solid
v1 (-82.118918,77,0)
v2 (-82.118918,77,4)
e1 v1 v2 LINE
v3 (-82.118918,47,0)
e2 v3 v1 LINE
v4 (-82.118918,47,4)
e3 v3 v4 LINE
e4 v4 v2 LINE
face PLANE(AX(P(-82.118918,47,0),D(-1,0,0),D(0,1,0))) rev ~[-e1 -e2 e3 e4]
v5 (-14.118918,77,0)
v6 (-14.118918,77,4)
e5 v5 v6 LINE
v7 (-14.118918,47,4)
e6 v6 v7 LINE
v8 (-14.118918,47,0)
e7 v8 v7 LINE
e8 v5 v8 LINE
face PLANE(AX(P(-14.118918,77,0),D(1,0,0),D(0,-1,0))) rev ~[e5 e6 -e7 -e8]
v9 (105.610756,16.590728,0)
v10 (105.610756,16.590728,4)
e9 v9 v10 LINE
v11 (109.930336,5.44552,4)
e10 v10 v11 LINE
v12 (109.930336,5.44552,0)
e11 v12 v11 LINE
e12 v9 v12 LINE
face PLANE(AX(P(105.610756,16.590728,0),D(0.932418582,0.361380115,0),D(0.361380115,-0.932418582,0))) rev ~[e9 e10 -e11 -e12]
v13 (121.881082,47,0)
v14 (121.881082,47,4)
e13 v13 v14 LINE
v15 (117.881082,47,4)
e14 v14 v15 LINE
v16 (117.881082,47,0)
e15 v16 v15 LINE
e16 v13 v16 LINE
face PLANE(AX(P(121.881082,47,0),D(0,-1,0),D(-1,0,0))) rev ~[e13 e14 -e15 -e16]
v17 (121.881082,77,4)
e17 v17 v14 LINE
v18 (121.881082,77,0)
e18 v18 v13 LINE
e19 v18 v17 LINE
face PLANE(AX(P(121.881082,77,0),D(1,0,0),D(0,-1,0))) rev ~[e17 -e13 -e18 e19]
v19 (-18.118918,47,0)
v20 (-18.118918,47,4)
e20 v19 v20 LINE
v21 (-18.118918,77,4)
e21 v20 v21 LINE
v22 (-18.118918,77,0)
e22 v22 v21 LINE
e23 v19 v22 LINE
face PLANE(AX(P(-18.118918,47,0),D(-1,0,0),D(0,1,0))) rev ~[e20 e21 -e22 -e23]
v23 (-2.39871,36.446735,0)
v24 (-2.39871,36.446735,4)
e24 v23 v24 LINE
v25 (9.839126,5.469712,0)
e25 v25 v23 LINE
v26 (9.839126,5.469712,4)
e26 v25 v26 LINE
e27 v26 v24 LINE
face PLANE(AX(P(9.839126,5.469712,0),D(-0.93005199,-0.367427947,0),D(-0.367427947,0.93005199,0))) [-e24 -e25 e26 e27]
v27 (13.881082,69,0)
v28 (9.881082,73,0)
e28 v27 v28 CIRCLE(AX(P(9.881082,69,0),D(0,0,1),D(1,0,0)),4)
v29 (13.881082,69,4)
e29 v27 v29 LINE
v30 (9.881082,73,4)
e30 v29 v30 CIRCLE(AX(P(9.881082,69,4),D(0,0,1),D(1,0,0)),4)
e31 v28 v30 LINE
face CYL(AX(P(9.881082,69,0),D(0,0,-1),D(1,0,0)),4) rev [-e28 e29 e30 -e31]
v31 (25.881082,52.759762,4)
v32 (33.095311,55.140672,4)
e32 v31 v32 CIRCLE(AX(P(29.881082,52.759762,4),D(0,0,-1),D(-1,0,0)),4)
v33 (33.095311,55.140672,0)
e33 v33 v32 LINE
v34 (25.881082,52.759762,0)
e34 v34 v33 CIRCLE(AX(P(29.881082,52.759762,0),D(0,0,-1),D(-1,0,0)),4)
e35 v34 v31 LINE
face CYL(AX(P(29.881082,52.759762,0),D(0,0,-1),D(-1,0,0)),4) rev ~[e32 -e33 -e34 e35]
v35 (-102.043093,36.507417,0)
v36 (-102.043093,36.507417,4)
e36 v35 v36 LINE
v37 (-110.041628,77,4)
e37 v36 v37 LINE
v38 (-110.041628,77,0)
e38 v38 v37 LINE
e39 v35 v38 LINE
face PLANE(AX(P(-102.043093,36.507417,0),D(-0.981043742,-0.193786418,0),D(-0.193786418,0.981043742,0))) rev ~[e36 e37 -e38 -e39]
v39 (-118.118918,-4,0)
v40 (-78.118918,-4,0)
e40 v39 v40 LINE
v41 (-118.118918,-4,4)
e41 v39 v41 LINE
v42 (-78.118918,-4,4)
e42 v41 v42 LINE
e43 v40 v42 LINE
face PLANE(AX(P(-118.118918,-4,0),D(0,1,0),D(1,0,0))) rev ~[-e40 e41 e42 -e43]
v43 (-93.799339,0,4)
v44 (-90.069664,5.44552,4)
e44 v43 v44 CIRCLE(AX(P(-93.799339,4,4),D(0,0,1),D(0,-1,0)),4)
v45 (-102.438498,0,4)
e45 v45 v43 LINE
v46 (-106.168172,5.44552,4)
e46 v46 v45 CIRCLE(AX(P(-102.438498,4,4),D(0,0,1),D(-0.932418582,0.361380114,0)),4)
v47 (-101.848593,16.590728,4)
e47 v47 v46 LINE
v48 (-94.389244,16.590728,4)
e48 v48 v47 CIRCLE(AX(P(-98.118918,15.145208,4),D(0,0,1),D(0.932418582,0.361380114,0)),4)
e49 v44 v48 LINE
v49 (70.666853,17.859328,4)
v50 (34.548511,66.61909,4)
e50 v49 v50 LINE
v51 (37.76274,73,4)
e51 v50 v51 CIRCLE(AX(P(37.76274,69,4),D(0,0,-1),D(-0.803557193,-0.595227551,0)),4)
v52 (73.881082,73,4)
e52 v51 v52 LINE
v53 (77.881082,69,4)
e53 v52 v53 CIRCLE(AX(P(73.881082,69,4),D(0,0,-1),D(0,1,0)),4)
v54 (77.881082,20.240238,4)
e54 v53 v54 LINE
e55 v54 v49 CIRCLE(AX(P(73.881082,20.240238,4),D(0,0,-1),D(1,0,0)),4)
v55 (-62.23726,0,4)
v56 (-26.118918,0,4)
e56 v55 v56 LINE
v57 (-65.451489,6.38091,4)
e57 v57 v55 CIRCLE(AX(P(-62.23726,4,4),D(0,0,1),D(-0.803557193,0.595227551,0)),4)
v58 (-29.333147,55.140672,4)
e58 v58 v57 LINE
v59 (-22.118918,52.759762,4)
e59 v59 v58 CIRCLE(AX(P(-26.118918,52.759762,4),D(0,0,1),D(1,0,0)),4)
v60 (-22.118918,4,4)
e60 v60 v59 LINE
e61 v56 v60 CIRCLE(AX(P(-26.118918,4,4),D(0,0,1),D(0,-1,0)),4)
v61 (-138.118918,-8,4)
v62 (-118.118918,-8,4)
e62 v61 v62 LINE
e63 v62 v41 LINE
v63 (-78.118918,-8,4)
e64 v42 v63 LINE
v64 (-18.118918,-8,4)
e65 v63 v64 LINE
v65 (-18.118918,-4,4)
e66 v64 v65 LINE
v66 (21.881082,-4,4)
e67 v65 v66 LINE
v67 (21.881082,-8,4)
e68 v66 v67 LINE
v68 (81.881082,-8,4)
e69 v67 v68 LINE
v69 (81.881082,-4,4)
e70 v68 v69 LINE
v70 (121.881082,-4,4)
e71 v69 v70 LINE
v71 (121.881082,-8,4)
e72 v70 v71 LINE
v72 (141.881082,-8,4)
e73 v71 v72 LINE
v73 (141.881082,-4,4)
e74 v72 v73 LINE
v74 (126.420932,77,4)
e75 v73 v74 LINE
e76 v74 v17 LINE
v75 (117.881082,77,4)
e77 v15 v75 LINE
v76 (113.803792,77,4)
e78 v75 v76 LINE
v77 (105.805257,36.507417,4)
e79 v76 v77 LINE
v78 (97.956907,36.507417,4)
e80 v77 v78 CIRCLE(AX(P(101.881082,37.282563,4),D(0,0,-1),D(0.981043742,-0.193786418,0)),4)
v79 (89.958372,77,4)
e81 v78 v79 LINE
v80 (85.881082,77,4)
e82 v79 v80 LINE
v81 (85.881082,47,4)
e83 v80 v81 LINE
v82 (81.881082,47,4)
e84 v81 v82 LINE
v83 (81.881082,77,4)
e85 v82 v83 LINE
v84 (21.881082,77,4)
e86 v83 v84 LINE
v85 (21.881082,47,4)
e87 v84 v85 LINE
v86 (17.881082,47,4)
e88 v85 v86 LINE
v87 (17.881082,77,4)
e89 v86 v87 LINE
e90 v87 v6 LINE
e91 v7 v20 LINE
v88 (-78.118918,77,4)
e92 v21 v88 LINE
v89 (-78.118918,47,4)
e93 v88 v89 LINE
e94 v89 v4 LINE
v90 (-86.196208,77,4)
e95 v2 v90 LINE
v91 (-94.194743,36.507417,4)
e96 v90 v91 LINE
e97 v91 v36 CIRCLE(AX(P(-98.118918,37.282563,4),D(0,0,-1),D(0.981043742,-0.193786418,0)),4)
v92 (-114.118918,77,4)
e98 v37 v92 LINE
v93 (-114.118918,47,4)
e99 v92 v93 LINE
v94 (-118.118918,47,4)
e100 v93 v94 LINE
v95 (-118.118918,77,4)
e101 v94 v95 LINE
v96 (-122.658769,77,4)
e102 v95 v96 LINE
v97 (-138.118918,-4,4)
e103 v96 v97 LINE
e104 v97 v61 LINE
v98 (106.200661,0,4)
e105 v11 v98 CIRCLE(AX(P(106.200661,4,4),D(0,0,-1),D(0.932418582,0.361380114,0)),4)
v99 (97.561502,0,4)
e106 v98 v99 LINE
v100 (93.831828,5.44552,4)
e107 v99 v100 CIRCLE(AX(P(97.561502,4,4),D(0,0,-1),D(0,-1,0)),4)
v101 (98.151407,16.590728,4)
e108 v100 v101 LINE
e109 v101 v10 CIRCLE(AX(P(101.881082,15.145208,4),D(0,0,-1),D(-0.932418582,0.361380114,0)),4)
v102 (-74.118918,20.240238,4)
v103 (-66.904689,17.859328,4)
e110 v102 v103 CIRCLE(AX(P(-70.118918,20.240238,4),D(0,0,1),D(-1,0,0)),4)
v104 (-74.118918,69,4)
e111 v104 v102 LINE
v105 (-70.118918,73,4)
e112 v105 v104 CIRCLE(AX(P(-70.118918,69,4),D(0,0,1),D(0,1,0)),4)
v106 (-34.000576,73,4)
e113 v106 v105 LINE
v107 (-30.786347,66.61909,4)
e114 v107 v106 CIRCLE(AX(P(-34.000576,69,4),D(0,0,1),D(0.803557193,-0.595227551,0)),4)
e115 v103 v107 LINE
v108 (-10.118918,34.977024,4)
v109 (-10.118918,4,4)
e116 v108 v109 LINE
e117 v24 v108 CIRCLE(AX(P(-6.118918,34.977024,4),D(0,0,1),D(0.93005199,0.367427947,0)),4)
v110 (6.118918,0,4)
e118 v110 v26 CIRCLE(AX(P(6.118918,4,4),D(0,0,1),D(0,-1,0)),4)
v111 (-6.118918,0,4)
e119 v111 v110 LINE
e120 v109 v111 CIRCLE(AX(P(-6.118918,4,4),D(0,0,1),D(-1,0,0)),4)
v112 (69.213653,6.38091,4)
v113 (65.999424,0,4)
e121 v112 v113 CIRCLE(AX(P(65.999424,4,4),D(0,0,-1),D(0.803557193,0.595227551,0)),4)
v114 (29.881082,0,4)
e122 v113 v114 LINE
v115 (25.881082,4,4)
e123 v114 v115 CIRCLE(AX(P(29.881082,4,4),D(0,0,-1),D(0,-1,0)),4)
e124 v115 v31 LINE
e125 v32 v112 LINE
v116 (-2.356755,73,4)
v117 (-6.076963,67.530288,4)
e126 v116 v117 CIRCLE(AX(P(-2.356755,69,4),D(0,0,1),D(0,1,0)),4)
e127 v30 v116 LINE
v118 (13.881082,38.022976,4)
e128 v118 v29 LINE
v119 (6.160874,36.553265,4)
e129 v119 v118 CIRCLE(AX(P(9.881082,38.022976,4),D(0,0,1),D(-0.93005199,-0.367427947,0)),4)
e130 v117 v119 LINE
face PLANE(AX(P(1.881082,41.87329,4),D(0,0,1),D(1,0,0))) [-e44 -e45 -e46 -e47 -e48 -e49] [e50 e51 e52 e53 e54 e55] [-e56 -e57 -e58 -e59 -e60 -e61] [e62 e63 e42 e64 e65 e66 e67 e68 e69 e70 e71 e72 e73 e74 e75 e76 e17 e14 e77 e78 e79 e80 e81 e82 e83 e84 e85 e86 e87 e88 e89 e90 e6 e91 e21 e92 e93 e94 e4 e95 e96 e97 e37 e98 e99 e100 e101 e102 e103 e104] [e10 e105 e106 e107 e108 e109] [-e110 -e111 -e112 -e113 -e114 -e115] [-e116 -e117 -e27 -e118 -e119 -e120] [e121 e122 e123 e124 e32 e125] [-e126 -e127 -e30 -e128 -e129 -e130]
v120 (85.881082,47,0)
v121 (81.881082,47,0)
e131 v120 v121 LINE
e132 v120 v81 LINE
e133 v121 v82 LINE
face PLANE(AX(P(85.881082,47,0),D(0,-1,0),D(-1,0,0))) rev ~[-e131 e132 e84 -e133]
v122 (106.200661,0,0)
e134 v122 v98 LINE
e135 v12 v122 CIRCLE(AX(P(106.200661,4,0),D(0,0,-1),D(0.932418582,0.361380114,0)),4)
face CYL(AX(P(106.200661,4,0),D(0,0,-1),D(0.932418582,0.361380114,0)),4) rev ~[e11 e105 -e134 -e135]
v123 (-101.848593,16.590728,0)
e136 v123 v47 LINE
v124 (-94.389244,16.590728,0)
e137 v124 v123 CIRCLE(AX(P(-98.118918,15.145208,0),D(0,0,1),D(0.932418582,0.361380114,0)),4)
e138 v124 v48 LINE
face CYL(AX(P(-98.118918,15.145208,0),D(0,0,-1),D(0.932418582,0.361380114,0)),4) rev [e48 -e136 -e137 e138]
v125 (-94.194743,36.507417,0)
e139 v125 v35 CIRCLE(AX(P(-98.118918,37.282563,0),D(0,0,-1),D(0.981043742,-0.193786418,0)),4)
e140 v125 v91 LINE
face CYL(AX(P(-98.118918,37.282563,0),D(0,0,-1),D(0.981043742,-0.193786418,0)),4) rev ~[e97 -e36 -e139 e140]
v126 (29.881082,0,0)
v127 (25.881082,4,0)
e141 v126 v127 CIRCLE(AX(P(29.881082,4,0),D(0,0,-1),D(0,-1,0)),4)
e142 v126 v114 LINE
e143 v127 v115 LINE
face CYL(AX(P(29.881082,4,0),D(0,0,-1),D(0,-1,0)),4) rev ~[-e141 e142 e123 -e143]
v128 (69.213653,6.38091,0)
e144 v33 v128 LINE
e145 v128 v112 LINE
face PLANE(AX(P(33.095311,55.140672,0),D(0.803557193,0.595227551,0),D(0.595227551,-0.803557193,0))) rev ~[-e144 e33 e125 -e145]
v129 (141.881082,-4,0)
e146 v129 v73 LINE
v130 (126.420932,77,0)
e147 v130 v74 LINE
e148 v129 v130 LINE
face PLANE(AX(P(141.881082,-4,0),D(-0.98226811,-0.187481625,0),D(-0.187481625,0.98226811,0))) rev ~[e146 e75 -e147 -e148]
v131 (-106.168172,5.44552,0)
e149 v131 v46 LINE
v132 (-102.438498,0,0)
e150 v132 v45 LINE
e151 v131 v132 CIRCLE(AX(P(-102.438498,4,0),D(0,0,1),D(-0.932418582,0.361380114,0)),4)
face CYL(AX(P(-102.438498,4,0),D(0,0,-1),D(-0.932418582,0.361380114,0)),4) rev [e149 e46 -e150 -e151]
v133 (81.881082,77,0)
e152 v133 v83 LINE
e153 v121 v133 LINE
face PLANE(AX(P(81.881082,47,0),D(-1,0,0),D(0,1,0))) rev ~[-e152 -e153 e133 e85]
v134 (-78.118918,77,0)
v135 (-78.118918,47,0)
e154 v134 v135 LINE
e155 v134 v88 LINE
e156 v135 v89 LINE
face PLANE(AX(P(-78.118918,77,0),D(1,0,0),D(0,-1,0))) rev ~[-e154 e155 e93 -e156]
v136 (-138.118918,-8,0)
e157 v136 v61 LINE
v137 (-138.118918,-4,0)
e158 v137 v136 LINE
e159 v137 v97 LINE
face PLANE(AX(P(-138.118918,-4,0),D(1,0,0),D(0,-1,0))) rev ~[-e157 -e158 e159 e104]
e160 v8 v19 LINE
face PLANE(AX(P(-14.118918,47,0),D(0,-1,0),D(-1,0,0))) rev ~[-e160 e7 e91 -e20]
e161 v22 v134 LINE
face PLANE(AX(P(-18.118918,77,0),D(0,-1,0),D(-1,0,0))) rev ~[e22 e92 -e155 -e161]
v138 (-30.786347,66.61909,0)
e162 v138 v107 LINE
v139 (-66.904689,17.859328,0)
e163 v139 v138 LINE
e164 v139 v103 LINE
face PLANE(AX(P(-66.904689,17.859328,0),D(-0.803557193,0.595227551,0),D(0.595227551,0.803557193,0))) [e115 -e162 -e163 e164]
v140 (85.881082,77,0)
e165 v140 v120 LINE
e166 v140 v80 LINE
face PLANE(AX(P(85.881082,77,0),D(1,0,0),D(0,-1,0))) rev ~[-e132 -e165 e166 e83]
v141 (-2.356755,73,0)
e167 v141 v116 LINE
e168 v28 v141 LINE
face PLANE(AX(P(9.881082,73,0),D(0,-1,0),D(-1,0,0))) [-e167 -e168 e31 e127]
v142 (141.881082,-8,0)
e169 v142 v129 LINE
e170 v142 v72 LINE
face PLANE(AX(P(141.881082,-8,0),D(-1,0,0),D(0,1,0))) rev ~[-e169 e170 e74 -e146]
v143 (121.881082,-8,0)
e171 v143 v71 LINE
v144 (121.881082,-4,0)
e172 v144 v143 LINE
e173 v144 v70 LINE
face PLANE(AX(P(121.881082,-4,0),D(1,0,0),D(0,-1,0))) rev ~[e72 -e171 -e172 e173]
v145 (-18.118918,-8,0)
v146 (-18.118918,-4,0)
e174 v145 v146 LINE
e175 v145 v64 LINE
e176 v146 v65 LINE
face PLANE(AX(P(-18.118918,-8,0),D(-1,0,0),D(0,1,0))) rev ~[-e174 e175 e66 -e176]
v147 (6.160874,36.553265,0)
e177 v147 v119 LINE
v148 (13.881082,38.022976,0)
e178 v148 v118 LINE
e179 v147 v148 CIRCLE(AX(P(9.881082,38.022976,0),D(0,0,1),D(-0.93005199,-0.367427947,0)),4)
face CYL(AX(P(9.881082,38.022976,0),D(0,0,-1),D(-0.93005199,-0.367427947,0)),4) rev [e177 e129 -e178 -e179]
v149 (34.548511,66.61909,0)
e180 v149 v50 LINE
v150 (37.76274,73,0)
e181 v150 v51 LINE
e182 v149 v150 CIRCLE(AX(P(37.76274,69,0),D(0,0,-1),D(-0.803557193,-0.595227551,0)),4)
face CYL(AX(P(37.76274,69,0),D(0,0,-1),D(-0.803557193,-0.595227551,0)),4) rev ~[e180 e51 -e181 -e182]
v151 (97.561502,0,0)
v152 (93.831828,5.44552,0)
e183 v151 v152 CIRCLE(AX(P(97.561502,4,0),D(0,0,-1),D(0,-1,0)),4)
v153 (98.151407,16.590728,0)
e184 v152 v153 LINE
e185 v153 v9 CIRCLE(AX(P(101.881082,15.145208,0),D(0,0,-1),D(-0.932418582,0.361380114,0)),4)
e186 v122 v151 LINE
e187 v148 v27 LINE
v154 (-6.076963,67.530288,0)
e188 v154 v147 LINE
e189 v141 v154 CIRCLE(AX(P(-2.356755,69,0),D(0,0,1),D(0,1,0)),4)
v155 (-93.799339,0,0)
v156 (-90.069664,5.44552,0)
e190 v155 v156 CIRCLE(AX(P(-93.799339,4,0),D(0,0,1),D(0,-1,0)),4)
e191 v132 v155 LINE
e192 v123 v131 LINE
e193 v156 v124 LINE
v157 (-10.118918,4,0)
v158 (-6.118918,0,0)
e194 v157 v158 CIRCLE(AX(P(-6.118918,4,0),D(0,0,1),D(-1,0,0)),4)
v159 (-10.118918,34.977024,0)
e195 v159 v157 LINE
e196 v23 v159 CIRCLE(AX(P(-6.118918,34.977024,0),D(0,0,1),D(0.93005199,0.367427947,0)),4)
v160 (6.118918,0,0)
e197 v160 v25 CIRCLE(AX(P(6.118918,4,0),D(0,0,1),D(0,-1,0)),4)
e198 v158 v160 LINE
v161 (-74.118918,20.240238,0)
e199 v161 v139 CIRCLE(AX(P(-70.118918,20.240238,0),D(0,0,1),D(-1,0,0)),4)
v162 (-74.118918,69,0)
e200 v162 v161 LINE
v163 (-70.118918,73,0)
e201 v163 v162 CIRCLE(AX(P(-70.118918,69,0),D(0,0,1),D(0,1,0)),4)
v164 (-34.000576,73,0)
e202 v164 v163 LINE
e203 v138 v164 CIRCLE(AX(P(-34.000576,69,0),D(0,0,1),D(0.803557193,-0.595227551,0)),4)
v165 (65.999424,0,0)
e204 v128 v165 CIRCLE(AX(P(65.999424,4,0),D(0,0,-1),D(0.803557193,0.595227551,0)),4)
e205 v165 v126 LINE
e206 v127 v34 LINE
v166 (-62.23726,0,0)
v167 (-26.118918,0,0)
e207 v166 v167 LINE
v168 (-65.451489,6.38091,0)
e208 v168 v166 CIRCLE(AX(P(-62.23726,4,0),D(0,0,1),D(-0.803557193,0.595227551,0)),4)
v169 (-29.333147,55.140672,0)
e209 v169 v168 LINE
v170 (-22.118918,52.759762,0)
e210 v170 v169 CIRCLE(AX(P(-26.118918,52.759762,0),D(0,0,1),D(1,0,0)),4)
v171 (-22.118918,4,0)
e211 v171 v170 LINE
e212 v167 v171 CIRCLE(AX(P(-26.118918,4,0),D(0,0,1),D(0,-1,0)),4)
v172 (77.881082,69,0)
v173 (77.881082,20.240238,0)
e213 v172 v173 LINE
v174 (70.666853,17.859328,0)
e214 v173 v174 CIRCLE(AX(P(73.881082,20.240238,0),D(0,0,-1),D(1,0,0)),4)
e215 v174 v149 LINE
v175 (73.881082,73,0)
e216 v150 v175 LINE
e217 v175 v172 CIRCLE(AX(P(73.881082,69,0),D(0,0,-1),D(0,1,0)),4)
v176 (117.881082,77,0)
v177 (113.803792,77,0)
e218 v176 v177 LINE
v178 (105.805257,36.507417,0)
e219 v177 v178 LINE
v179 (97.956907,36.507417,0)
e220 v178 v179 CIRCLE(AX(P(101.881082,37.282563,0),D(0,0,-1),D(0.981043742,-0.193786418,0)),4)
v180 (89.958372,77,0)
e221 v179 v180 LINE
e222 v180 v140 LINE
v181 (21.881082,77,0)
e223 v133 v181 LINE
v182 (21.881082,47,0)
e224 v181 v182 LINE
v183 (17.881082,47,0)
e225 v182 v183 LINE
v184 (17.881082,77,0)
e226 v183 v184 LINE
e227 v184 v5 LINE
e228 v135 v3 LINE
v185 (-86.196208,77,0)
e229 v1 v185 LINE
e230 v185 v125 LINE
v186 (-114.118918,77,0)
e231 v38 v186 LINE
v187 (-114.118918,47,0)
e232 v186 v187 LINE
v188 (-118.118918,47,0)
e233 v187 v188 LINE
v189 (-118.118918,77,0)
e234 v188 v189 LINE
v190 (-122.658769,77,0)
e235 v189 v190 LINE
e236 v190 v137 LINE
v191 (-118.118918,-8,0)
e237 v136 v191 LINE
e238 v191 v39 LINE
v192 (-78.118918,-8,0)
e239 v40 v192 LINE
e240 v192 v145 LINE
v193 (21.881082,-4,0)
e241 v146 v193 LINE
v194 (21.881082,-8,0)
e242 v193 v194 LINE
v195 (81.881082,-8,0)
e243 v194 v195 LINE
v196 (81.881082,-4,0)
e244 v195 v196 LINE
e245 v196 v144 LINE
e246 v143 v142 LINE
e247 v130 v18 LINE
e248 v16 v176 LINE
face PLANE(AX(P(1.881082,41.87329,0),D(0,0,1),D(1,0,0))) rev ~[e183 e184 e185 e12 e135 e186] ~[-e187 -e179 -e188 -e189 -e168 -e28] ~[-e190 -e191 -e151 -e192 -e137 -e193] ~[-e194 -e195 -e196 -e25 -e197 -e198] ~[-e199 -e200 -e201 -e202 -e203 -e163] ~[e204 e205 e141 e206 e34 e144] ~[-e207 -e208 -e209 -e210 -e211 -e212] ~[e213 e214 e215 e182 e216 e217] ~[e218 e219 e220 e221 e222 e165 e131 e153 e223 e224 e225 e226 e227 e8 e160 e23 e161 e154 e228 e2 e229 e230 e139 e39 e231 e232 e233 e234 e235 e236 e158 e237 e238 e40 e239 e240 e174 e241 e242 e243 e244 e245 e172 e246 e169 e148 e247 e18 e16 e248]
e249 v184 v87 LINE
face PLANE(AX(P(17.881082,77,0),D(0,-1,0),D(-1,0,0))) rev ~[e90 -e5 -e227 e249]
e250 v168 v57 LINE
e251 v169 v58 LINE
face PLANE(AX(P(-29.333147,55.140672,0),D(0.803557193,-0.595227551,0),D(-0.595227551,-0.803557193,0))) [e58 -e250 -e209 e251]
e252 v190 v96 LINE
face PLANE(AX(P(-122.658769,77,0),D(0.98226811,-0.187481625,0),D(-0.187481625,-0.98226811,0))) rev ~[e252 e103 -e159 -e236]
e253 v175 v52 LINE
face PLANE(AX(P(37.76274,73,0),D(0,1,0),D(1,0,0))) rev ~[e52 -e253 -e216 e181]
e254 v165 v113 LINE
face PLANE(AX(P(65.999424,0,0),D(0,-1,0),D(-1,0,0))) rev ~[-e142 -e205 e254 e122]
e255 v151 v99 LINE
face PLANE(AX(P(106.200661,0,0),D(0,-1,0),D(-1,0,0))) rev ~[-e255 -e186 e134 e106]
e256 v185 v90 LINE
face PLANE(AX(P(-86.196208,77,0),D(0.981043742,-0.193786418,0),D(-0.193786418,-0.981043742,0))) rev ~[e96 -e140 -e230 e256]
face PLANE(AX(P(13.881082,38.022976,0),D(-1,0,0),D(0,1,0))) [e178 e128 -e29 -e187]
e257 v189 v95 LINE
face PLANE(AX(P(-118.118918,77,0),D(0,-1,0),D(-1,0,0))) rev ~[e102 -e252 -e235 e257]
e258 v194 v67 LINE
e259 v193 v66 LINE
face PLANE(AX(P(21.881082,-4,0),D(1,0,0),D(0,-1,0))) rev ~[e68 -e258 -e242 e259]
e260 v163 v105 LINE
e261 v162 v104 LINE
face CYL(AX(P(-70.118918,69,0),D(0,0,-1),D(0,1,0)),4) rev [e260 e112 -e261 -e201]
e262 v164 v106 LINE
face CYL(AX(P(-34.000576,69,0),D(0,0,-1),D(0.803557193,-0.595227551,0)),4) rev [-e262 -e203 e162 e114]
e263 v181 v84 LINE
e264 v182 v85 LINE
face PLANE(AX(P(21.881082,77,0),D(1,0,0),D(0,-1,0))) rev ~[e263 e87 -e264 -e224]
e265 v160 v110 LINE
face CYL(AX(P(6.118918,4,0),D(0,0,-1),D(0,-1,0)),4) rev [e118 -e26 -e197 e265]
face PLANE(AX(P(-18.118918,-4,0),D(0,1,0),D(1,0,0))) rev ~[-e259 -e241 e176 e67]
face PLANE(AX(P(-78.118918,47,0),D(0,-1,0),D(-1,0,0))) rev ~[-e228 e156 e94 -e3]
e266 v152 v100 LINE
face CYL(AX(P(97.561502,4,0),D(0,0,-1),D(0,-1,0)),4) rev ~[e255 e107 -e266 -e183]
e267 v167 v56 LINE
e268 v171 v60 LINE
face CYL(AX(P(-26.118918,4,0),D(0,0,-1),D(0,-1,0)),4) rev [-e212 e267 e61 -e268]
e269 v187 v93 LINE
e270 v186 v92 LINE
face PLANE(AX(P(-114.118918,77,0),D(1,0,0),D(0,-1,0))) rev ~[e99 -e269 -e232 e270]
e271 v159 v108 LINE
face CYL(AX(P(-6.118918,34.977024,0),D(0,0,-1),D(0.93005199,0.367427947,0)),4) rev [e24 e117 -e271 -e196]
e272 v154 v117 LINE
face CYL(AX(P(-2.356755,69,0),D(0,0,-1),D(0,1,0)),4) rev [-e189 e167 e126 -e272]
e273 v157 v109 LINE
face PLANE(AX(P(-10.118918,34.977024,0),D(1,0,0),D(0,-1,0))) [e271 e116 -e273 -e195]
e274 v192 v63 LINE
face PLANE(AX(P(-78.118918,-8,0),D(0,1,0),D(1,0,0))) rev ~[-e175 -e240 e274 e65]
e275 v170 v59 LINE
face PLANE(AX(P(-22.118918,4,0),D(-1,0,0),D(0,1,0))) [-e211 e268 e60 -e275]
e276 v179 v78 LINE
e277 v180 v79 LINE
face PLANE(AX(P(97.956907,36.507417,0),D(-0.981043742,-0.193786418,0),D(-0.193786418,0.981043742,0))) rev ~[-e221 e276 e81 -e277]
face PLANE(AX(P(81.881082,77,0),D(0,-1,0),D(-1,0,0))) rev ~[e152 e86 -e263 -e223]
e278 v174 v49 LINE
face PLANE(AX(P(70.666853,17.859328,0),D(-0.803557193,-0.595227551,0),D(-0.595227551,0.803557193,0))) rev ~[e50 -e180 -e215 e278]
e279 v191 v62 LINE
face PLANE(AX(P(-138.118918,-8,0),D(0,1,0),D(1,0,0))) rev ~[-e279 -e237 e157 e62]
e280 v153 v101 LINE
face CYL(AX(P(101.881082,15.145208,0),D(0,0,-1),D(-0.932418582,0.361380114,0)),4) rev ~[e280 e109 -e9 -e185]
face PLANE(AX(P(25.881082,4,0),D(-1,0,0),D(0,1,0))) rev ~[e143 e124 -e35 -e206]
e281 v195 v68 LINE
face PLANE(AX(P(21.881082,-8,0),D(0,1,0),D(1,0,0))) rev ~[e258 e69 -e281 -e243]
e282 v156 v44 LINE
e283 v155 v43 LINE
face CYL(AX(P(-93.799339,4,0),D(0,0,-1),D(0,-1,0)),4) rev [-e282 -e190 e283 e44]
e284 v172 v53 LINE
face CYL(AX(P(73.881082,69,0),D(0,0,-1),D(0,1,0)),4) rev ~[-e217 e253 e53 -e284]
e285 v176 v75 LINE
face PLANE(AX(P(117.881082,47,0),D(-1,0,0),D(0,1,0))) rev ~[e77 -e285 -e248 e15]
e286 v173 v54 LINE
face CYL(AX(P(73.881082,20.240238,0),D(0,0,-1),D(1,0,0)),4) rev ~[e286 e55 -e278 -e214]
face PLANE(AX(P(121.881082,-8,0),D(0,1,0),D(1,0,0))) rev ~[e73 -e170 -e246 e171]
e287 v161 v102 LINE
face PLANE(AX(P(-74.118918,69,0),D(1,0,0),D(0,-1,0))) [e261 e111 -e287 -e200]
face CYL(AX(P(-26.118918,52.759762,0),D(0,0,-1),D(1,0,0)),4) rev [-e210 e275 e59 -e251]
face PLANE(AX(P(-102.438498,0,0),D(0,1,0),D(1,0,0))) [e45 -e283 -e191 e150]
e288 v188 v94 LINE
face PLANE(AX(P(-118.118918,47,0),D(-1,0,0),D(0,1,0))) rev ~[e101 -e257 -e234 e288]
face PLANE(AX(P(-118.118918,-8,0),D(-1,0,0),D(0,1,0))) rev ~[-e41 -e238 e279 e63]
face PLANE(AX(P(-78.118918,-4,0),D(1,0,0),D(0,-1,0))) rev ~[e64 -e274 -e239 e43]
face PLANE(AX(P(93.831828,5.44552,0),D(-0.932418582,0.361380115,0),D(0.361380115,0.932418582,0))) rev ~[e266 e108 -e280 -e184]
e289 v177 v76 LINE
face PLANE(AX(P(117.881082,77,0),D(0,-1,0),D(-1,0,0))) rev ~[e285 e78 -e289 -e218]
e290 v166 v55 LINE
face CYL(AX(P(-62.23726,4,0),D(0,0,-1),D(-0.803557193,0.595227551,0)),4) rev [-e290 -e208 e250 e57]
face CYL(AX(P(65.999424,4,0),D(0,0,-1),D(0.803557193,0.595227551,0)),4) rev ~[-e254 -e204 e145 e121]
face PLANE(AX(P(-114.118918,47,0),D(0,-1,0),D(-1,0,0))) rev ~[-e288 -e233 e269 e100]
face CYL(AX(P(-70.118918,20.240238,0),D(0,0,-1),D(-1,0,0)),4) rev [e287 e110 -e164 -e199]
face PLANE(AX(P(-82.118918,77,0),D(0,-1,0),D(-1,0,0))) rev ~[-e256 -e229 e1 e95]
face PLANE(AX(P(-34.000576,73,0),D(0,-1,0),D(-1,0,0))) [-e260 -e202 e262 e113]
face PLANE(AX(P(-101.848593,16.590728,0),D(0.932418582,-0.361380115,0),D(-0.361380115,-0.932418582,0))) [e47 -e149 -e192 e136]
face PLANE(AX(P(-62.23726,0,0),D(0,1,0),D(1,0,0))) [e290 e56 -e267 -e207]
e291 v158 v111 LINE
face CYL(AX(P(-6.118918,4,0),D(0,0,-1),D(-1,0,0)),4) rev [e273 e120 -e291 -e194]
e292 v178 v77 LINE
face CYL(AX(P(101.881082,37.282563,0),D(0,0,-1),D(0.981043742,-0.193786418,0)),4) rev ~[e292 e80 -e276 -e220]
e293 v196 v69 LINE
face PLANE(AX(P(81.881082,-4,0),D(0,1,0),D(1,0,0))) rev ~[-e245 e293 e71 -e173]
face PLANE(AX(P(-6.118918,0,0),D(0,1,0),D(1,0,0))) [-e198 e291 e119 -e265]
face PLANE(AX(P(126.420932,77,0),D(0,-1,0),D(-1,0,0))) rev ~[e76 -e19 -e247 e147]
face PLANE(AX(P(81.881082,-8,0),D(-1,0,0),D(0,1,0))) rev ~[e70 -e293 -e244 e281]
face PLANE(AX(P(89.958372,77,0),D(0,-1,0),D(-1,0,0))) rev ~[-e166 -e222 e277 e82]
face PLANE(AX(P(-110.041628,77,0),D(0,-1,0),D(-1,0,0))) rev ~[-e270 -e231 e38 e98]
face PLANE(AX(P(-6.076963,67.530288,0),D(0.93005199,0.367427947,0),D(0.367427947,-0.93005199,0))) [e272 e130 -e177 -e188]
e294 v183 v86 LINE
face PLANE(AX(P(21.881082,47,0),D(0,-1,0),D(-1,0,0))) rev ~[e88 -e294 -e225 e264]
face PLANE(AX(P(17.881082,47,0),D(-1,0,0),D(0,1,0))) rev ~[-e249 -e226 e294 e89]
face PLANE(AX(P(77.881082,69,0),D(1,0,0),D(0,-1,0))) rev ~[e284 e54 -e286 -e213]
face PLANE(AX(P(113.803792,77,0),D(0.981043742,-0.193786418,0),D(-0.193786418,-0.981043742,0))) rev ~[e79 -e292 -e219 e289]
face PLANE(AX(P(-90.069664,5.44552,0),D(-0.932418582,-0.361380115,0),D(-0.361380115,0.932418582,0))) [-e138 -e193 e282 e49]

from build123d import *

# Parameters (mm, degrees)
BOSS_EXTRUDE1_DEPTH = 4


with BuildPart() as part:
    # Sketch2 → Boss-Extrude1 (new body)
    with BuildSketch(Plane.XY):
        with BuildLine():
            Line((-138.118918248, -4), (-138.118918248, -8))
            Line((-138.118918248, -8), (-118.118918248, -8))
            Line((-118.118918248, -8), (-118.118918248, -4))
            Line((-118.118918248, -4), (-78.118918248, -4))
            Line((-78.118918248, -4), (-78.118918248, -8))
            Line((-78.118918248, -8), (-18.118918248, -8))
            Line((-18.118918248, -8), (-18.118918248, -4))
            Line((-18.118918248, -4), (21.881081752, -4))
            Line((21.881081752, -4), (21.881081752, -8))
            Line((21.881081752, -8), (81.881081752, -8))
            Line((81.881081752, -8), (81.881081752, -4))
            Line((81.881081752, -4), (121.881081752, -4))
            Line((121.881081752, -4), (121.881081752, -8))
            Line((121.881081752, -8), (141.881081752, -8))
            Line((141.881081752, -8), (141.881081752, -4))
            Line((141.881081752, -4), (126.420932439, 77))
            Line((126.420932439, 77), (121.881081752, 77))
            Line((121.881081752, 77), (121.881081752, 47))
            Line((121.881081752, 47), (117.881081752, 47))
            Line((117.881081752, 47), (117.881081752, 77))
            Line((117.881081752, 77), (113.803791589, 77))
            Line((113.803791589, 77), (105.805256721, 36.507417232))
            ThreePointArc((105.805256721, 36.507417232), (101.881081752, 33.282562905), (97.956906783, 36.507417232))
            Line((97.956906783, 36.507417232), (89.958371916, 77))
            Line((89.958371916, 77), (85.881081752, 77))
            Line((85.881081752, 77), (85.881081752, 47))
            Line((85.881081752, 47), (81.881081752, 47))
            Line((81.881081752, 47), (81.881081752, 77))
            Line((81.881081752, 77), (21.881081752, 77))
            Line((21.881081752, 77), (21.881081752, 47))
            Line((21.881081752, 47), (17.881081752, 47))
            Line((17.881081752, 47), (17.881081752, 77))
            Line((17.881081752, 77), (-14.118918248, 77))
            Line((-14.118918248, 77), (-14.118918248, 47))
            Line((-14.118918248, 47), (-18.118918248, 47))
            Line((-18.118918248, 47), (-18.118918248, 77))
            Line((-18.118918248, 77), (-78.118918248, 77))
            Line((-78.118918248, 77), (-78.118918248, 47))
            Line((-78.118918248, 47), (-82.118918248, 47))
            Line((-82.118918248, 47), (-82.118918248, 77))
            Line((-82.118918248, 77), (-86.196208411, 77))
            Line((-86.196208411, 77), (-94.194743279, 36.507417232))
            ThreePointArc((-94.194743279, 36.507417232), (-98.118918248, 33.282562905), (-102.043093217, 36.507417232))
            Line((-102.043093217, 36.507417232), (-110.041628084, 77))
            Line((-110.041628084, 77), (-114.118918248, 77))
            Line((-114.118918248, 77), (-114.118918248, 47))
            Line((-114.118918248, 47), (-118.118918248, 47))
            Line((-118.118918248, 47), (-118.118918248, 77))
            Line((-118.118918248, 77), (-122.658768935, 77))
            Line((-122.658768935, 77), (-138.118918248, -4))
        make_face()
        with BuildLine():
            Line((-102.438497969, 0), (-93.799338527, 0))
            ThreePointArc((-93.799338527, 0), (-90.499180816, 1.739699338), (-90.069664197, 5.445520459))
            Line((-90.069664197, 5.445520459), (-94.389243919, 16.590728056))
            ThreePointArc((-94.389243919, 16.590728056), (-98.118918248, 19.145207598), (-101.848592577, 16.590728056))
            Line((-101.848592577, 16.590728056), (-106.168172299, 5.445520459))
            ThreePointArc((-106.168172299, 5.445520459), (-105.73865568, 1.739699338), (-102.438497969, 0))
        make_face(mode=Mode.SUBTRACT)
        with BuildLine():
            Line((-22.118918248, 4), (-22.118918248, 52.759761907))
            ThreePointArc((-22.118918248, 52.759761907), (-24.865306485, 56.558242859), (-29.333147021, 55.140672109))
            Line((-29.333147021, 55.140672109), (-65.451489175, 6.380910203))
            ThreePointArc((-65.451489175, 6.380910203), (-65.80962942, 2.200505739), (-62.237260401, 0))
            Line((-62.237260401, 0), (-26.118918248, 0))
            ThreePointArc((-26.118918248, 0), (-23.290491123, 1.171572875), (-22.118918248, 4))
        make_face(mode=Mode.SUBTRACT)
        with BuildLine():
            Line((-34.000576095, 73), (-70.118918248, 73))
            ThreePointArc((-70.118918248, 73), (-72.947345373, 71.828427125), (-74.118918248, 69))
            Line((-74.118918248, 69), (-74.118918248, 20.240238093))
            ThreePointArc((-74.118918248, 20.240238093), (-71.372530011, 16.441757141), (-66.904689475, 17.859327891))
            Line((-66.904689475, 17.859327891), (-30.786347321, 66.619089797))
            ThreePointArc((-30.786347321, 66.619089797), (-30.428207076, 70.799494261), (-34.000576095, 73))
        make_face(mode=Mode.SUBTRACT)
        with BuildLine():
            Line((9.881081752, 73), (-2.356754744, 73))
            ThreePointArc((-2.356754744, 73), (-5.664234687, 71.249572499), (-6.076962704, 67.530288213))
            Line((-6.076962704, 67.530288213), (6.160873792, 36.553264583))
            ThreePointArc((6.160873792, 36.553264583), (10.62913528, 34.093546905), (13.881081752, 38.02297637))
            Line((13.881081752, 38.02297637), (13.881081752, 69))
            ThreePointArc((13.881081752, 69), (12.709508877, 71.828427125), (9.881081752, 73))
        make_face(mode=Mode.SUBTRACT)
        with BuildLine():
            Line((-6.118918248, 0), (6.118918248, 0))
            ThreePointArc((6.118918248, 0), (9.426398191, 1.750427501), (9.839126208, 5.469711787))
            Line((9.839126208, 5.469711787), (-2.398710288, 36.446735417))
            ThreePointArc((-2.398710288, 36.446735417), (-6.866971776, 38.906453095), (-10.118918248, 34.97702363))
            Line((-10.118918248, 34.97702363), (-10.118918248, 4))
            ThreePointArc((-10.118918248, 4), (-8.947345373, 1.171572875), (-6.118918248, 0))
        make_face(mode=Mode.SUBTRACT)
        with BuildLine():
            Line((105.610756081, 16.590728056), (109.930335803, 5.445520459))
            ThreePointArc((109.930335803, 5.445520459), (109.500819184, 1.739699338), (106.200661473, 0))
            Line((106.200661473, 0), (97.561502031, 0))
            ThreePointArc((97.561502031, 0), (94.26134432, 1.739699338), (93.831827701, 5.445520459))
            Line((93.831827701, 5.445520459), (98.151407423, 16.590728056))
            ThreePointArc((98.151407423, 16.590728056), (101.881081752, 19.145207598), (105.610756081, 16.590728056))
        make_face(mode=Mode.SUBTRACT)
        with BuildLine():
            Line((70.666852979, 17.859327891), (34.548510825, 66.619089797))
            ThreePointArc((34.548510825, 66.619089797), (34.19037058, 70.799494261), (37.762739599, 73))
            Line((37.762739599, 73), (73.881081752, 73))
            ThreePointArc((73.881081752, 73), (76.709508877, 71.828427125), (77.881081752, 69))
            Line((77.881081752, 69), (77.881081752, 20.240238093))
            ThreePointArc((77.881081752, 20.240238093), (75.134693515, 16.441757141), (70.666852979, 17.859327891))
        make_face(mode=Mode.SUBTRACT)
        with BuildLine():
            Line((65.999423905, 0), (29.881081752, 0))
            ThreePointArc((29.881081752, 0), (27.052654627, 1.171572875), (25.881081752, 4))
            Line((25.881081752, 4), (25.881081752, 52.759761907))
            ThreePointArc((25.881081752, 52.759761907), (28.627469989, 56.558242859), (33.095310525, 55.140672109))
            Line((33.095310525, 55.140672109), (69.213652679, 6.380910203))
            ThreePointArc((69.213652679, 6.380910203), (69.571792924, 2.200505739), (65.999423905, 0))
        make_face(mode=Mode.SUBTRACT)
    extrude(amount=BOSS_EXTRUDE1_DEPTH)


solid = part.part
